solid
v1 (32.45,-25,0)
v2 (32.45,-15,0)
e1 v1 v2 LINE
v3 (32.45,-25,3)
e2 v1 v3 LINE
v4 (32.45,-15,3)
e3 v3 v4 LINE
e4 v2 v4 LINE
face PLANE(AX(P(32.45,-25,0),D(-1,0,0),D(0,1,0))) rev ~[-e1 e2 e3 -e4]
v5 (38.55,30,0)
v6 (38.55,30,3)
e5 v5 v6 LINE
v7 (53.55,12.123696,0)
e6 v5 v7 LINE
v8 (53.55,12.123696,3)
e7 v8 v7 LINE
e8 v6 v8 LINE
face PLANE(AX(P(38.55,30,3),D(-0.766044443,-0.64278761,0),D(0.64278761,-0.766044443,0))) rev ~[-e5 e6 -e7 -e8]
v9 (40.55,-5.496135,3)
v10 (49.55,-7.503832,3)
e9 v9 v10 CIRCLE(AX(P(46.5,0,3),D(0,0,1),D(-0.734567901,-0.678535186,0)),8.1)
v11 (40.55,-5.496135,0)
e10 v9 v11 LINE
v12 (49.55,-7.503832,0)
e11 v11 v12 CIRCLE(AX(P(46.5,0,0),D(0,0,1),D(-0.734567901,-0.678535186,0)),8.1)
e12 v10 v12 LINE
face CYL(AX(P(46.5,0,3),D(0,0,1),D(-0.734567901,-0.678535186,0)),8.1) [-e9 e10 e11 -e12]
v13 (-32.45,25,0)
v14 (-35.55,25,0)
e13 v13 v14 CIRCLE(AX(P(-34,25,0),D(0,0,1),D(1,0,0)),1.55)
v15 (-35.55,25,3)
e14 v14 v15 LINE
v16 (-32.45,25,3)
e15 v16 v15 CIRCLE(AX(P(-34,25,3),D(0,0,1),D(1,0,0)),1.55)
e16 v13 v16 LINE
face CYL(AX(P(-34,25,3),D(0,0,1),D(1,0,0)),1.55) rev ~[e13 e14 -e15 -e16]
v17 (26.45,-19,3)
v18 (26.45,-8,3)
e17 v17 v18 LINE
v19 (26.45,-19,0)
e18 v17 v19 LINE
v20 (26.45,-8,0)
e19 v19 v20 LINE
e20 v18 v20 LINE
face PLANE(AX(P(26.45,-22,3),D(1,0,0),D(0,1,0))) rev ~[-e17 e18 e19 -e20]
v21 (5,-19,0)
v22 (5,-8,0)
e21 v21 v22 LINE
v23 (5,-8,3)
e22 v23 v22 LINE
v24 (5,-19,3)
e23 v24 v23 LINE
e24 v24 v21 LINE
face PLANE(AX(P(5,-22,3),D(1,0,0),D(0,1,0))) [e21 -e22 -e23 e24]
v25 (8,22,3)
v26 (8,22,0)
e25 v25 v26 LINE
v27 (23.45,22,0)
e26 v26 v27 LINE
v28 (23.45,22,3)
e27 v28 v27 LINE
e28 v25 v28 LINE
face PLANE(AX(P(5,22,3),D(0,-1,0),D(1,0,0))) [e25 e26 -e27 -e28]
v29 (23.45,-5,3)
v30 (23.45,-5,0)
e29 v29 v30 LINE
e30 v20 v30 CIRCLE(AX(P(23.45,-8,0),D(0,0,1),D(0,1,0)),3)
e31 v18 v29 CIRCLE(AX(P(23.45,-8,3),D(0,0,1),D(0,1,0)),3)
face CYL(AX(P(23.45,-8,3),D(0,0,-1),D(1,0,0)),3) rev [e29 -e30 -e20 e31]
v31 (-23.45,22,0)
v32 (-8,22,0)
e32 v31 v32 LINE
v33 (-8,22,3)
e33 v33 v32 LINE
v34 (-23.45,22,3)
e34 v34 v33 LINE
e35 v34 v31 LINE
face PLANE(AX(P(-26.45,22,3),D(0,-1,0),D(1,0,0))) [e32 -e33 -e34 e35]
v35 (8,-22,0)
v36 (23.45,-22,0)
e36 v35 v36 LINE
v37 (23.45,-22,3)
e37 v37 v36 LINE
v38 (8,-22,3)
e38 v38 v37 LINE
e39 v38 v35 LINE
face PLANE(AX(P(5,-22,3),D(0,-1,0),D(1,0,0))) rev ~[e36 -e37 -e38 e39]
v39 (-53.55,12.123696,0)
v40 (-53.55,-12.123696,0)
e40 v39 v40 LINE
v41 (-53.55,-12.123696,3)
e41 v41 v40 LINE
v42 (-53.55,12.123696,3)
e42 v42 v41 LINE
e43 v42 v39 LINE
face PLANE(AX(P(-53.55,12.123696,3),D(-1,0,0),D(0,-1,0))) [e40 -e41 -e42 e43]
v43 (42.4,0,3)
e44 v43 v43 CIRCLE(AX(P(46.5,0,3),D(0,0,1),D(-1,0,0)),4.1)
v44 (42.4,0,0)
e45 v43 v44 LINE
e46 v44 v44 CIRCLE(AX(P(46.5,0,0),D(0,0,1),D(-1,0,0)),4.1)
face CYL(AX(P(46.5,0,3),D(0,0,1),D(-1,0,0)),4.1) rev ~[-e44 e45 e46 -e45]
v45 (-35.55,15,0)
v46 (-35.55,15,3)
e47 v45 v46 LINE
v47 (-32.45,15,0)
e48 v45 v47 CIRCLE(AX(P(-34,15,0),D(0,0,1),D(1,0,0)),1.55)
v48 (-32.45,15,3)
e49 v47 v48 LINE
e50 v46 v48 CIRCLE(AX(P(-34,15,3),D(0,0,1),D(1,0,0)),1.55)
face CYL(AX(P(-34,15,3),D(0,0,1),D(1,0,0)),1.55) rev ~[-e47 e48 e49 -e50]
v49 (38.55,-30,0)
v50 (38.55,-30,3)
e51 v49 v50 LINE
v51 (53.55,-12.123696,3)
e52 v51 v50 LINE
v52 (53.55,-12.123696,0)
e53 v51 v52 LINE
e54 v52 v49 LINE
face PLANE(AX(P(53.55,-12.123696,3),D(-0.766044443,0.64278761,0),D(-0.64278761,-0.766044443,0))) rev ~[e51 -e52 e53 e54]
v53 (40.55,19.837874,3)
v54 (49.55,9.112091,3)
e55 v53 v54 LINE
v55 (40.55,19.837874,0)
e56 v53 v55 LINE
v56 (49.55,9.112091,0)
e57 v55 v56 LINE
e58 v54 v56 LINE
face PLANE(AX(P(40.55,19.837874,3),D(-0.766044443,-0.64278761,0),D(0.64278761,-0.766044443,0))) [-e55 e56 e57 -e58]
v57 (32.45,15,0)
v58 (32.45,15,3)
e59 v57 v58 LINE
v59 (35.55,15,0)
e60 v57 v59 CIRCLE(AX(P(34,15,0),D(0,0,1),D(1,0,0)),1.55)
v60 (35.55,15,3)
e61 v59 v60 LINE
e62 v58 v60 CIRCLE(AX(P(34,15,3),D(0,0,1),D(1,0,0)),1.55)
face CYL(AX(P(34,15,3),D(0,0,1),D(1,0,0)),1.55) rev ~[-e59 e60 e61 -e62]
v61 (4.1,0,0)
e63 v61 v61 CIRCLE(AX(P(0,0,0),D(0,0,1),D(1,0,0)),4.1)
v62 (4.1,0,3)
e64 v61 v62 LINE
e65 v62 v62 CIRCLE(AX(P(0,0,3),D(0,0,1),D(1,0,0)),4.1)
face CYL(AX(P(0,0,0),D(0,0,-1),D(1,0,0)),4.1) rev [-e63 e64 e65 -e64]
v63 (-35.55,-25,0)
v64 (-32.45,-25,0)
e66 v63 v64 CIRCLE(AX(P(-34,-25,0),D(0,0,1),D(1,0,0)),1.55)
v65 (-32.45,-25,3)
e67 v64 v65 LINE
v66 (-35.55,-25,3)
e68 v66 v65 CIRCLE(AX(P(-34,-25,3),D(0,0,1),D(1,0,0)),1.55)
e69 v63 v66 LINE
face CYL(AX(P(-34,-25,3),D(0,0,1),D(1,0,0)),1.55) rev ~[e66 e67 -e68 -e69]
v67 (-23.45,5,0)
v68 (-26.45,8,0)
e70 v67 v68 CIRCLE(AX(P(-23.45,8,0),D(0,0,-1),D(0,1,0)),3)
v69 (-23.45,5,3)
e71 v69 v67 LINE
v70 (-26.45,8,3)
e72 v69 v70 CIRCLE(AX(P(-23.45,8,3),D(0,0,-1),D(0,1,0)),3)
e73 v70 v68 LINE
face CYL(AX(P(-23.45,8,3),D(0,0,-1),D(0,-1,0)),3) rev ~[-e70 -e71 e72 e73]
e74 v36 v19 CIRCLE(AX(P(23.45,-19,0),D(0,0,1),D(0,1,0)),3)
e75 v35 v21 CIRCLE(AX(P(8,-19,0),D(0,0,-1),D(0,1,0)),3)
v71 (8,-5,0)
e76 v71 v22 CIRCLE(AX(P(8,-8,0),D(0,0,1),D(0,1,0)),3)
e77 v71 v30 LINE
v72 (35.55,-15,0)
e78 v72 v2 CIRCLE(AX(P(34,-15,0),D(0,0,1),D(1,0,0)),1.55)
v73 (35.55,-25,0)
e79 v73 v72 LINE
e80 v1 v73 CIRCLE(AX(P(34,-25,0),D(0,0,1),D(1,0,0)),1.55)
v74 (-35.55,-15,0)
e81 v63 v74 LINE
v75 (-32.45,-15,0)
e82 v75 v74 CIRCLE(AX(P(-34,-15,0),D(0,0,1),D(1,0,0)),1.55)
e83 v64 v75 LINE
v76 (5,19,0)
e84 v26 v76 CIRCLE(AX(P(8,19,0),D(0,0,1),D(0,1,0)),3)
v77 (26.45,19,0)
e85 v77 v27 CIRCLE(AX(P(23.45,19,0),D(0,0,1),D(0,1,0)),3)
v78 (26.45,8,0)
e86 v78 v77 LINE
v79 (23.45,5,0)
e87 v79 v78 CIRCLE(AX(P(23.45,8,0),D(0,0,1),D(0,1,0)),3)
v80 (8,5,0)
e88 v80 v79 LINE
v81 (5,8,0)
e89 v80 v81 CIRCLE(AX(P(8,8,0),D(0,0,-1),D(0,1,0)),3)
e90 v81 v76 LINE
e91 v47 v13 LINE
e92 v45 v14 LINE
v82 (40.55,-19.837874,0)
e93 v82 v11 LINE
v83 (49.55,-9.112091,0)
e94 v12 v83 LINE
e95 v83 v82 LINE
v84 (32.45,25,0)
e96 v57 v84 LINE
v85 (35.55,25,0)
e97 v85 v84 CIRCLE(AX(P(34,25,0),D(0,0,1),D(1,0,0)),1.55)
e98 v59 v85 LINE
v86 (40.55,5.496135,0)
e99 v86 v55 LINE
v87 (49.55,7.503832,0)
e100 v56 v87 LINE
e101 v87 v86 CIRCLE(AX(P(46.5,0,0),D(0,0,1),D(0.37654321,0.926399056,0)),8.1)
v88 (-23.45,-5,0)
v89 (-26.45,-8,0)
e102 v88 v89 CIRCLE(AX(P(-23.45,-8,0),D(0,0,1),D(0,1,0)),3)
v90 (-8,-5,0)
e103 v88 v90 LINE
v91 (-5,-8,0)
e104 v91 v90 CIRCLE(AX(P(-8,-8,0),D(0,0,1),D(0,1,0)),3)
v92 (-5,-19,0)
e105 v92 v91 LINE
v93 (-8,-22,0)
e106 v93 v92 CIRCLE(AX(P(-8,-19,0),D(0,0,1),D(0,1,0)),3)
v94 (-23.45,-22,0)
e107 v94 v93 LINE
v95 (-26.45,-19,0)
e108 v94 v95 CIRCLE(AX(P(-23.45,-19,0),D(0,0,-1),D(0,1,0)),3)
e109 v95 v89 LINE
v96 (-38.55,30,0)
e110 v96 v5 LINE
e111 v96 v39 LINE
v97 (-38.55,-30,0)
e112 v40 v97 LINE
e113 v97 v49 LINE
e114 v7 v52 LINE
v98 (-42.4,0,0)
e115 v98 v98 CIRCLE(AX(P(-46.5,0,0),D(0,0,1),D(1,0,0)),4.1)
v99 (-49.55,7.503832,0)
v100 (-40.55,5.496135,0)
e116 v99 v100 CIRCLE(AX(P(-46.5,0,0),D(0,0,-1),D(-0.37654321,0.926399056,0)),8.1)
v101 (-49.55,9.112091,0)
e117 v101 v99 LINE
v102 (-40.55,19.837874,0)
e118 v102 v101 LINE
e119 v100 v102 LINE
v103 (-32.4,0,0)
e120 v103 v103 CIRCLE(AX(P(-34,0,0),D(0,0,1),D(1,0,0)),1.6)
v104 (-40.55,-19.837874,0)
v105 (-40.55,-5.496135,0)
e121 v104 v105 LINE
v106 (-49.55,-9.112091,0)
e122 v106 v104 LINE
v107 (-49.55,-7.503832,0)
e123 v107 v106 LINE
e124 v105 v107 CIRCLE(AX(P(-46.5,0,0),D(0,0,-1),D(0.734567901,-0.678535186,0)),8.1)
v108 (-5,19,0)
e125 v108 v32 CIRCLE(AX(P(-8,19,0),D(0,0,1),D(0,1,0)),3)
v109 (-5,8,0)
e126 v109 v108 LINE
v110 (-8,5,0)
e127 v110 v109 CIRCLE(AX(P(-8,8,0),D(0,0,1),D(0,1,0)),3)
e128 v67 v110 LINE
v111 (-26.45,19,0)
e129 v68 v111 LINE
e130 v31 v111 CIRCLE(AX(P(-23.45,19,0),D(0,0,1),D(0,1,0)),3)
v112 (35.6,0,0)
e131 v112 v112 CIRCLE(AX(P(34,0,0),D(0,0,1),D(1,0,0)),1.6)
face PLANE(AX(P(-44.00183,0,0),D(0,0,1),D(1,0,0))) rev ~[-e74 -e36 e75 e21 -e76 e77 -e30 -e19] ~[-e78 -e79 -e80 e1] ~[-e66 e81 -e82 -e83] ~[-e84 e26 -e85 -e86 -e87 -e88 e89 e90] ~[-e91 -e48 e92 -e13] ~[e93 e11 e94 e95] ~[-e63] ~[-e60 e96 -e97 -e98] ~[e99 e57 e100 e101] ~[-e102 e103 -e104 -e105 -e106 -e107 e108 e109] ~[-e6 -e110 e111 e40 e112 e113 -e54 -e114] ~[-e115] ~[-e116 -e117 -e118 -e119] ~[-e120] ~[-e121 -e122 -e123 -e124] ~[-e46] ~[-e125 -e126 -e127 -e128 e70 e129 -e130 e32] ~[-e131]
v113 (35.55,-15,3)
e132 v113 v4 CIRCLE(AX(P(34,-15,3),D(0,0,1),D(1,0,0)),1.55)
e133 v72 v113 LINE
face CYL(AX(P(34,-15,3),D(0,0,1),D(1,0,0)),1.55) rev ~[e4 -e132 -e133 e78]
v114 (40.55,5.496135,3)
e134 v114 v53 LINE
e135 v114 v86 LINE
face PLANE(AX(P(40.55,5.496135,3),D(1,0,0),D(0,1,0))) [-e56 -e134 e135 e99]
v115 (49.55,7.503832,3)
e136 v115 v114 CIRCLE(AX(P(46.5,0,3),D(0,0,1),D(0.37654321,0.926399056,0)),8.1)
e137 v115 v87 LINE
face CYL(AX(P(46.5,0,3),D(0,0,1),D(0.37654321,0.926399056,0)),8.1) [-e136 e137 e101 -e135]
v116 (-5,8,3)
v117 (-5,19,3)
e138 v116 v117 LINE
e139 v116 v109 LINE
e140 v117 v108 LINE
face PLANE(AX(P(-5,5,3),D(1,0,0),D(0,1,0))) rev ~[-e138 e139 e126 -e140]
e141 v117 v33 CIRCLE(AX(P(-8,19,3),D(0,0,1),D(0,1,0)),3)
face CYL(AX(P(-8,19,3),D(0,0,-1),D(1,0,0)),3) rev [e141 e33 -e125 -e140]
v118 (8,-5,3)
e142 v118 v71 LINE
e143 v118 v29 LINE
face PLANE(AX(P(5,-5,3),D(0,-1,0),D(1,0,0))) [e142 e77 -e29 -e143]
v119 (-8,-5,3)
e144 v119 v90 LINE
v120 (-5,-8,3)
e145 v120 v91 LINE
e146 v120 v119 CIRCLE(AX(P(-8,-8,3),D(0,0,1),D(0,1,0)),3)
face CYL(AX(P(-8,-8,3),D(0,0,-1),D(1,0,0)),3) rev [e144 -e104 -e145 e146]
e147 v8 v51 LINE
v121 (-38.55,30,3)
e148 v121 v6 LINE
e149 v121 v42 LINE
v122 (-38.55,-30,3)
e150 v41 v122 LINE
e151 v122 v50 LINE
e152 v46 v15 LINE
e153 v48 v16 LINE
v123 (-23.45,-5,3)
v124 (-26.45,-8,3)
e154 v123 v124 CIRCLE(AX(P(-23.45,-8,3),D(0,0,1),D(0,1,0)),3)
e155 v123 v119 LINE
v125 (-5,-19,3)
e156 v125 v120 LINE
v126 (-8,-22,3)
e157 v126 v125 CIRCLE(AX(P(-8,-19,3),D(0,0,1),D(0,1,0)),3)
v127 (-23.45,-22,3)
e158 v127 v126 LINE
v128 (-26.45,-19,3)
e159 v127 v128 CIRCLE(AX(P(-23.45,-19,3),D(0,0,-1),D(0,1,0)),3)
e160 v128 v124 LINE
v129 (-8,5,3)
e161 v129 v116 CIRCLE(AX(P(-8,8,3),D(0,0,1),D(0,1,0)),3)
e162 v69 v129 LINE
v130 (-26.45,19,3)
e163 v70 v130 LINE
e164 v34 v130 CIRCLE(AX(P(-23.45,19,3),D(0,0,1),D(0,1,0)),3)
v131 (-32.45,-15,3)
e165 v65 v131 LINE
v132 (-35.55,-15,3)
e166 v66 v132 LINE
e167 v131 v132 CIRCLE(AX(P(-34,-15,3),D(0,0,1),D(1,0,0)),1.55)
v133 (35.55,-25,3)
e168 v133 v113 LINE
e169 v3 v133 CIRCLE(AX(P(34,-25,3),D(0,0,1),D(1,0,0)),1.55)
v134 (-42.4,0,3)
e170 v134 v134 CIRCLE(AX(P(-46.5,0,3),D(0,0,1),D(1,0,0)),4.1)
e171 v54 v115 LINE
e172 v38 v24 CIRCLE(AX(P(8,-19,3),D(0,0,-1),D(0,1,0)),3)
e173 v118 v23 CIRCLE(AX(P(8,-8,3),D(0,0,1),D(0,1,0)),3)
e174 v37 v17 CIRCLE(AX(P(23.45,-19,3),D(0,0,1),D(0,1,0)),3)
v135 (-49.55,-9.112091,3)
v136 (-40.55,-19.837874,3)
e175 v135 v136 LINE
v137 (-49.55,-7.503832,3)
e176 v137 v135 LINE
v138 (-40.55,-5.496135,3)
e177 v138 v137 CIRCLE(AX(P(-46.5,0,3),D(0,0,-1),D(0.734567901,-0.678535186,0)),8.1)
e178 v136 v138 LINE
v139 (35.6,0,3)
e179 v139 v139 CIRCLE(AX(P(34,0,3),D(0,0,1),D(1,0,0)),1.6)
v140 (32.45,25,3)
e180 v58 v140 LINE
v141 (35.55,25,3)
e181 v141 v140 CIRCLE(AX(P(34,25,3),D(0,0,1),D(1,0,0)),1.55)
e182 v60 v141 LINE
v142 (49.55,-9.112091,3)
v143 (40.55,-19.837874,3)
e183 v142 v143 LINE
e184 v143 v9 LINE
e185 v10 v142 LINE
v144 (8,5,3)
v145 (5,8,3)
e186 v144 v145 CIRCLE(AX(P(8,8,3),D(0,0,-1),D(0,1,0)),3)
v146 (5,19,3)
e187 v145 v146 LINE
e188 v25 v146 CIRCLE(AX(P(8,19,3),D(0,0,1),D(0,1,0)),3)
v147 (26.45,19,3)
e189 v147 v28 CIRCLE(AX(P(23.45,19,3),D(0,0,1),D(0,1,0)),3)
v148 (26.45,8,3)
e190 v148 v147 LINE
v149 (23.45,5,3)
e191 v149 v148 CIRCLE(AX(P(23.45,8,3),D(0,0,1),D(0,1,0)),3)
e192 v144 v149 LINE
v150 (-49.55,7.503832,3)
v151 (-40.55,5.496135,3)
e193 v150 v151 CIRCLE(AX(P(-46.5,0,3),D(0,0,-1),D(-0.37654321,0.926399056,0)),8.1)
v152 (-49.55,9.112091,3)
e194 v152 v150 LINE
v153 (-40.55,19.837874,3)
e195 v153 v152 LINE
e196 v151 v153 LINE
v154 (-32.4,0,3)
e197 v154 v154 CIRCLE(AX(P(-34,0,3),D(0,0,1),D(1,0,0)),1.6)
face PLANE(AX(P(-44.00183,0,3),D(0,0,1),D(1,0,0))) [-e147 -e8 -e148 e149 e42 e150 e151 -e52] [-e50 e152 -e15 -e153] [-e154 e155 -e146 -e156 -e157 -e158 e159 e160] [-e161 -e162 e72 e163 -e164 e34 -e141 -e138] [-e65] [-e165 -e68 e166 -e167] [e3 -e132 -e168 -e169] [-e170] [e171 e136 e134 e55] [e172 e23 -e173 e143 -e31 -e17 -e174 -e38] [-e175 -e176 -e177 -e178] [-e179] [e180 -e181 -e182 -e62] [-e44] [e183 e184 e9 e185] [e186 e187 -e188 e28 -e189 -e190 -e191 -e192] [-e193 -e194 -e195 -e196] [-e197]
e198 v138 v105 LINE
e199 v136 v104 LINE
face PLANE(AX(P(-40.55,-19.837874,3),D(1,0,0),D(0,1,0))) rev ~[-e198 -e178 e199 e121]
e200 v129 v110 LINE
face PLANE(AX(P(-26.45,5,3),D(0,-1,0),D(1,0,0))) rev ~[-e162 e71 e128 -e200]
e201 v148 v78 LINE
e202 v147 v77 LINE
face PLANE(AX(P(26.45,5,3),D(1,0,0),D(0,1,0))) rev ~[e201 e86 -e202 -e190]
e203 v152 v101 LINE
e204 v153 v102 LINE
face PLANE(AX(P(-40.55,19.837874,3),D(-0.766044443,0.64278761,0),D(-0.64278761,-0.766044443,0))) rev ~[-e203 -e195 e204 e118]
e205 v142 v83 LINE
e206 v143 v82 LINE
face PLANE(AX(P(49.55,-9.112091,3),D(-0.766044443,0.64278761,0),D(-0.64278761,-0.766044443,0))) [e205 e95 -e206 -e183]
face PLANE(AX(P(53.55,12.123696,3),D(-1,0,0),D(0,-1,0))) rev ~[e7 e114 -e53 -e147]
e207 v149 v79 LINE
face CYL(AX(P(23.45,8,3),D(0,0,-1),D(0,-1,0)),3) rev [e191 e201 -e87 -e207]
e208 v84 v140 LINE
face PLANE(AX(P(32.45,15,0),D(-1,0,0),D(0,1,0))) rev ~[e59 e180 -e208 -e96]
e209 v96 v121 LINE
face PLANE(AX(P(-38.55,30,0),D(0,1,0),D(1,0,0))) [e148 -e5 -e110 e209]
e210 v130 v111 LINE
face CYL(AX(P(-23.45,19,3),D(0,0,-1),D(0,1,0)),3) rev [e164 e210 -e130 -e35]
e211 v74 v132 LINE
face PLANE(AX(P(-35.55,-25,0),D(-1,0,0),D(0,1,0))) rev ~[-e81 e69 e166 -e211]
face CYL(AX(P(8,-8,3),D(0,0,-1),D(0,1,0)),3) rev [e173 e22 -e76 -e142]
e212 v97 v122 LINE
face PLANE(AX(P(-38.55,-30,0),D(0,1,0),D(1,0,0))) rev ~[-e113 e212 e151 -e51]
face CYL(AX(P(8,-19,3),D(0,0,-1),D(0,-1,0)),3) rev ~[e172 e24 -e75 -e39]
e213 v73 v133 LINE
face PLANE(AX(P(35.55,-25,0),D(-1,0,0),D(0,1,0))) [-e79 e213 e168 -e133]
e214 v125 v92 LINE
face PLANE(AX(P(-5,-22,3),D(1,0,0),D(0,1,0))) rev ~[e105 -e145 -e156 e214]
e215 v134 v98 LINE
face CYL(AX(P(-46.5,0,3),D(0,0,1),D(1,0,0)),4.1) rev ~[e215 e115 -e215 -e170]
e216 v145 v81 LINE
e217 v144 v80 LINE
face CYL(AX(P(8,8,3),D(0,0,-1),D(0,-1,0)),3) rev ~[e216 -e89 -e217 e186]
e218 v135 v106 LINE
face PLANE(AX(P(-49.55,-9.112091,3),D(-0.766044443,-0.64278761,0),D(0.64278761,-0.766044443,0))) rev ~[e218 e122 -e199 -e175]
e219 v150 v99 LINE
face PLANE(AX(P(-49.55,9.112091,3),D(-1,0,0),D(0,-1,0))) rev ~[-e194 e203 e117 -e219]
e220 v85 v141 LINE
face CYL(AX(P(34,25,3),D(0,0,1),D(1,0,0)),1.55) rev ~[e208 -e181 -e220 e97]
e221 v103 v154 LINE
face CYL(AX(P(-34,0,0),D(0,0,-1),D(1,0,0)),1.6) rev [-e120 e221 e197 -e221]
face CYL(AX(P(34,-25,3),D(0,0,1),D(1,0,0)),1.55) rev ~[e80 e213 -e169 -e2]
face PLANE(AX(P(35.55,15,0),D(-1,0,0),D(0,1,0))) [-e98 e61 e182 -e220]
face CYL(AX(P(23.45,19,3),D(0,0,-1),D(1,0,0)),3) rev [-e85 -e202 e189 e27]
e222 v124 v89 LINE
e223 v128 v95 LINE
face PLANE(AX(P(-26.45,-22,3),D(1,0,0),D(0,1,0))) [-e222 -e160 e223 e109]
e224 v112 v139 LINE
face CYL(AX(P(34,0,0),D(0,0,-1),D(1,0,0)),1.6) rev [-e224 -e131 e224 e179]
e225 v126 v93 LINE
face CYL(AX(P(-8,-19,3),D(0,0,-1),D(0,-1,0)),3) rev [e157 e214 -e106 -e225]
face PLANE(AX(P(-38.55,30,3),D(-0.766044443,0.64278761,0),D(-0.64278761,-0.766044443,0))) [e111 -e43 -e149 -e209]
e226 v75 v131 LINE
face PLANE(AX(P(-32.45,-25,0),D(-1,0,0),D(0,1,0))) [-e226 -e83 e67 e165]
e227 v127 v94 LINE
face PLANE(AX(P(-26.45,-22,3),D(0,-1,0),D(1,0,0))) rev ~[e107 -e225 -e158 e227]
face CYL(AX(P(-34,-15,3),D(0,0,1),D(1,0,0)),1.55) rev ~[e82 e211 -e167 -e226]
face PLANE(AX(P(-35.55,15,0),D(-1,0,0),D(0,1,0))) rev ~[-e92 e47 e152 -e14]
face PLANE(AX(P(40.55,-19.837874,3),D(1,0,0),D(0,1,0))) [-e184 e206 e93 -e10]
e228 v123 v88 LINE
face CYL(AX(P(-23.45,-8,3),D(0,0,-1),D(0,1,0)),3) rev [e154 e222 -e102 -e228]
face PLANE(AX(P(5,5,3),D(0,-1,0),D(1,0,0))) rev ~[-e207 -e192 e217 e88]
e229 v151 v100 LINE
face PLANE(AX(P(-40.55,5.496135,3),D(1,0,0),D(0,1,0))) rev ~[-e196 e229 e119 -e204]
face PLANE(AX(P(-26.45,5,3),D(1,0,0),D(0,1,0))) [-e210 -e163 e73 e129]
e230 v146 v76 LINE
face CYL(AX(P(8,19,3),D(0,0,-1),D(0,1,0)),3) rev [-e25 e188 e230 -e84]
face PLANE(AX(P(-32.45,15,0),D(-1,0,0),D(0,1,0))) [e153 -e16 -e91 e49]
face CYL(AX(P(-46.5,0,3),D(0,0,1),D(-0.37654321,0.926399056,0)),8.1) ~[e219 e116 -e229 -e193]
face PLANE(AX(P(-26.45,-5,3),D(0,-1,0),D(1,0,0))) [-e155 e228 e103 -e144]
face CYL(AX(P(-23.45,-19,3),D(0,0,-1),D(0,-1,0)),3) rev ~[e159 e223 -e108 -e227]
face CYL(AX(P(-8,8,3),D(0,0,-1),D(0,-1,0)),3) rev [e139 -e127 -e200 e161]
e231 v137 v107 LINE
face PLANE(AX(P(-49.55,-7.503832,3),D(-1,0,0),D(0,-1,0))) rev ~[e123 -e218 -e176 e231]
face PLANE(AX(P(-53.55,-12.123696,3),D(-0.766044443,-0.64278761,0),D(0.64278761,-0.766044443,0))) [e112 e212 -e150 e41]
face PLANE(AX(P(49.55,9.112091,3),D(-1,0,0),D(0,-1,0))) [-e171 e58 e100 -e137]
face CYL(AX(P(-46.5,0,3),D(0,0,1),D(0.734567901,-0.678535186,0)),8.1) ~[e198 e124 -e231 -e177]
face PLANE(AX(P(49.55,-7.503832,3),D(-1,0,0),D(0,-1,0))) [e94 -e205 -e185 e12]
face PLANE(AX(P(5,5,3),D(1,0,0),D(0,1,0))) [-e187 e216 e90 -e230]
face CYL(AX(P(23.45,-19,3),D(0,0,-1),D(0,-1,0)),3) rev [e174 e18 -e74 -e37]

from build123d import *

# Parameters (mm, degrees)
SKETCH_1_W          = 77.1
SKETCH_1_H          = 60
SKETCH_1_R          = 4.1
SKETCH_1_R_2        = 1.6
SKETCH_1_W_2        = 3.1
SKETCH_1_H_2        = 10
EXTRUDE_1_DEPTH     = 3
SKETCH_2_R          = 1.55
SKETCH_2_W          = 21.45
SKETCH_2_H          = 17
CUT_EXTRUDE_1_DEPTH = 49.939784429
SKETCH_3_R          = 4.1
EXTRUDE_2_DEPTH     = 3
FILLET_1_R          = 3


with BuildPart() as part:
    # 草图1 → 凸台-拉伸1 (new body)
    with BuildSketch(Plane.XY):
        Rectangle(SKETCH_1_W, SKETCH_1_H)
        Circle(SKETCH_1_R, mode=Mode.SUBTRACT)
        with Locations((34, 0)):
            Circle(SKETCH_1_R_2, mode=Mode.SUBTRACT)
        with Locations((-34, 0)):
            Circle(SKETCH_1_R_2, mode=Mode.SUBTRACT)
        with Locations((34, -20)):
            Rectangle(SKETCH_1_W_2, SKETCH_1_H_2, mode=Mode.SUBTRACT)
        with Locations((-34, 20)):
            Rectangle(SKETCH_1_W_2, SKETCH_1_H_2, mode=Mode.SUBTRACT)
        with Locations((-34, -20)):
            Rectangle(SKETCH_1_W_2, SKETCH_1_H_2, mode=Mode.SUBTRACT)
        with Locations((34, 20)):
            Rectangle(SKETCH_1_W_2, SKETCH_1_H_2, mode=Mode.SUBTRACT)
    extrude(amount=EXTRUDE_1_DEPTH)

    # 草图2 → 切除-拉伸1 (cut, through all)
    with BuildSketch(Plane.XY.offset(3)):
        with Locations((-34, 25)):
            Circle(SKETCH_2_R)
        with Locations((-34, 15)):
            Circle(SKETCH_2_R)
        with Locations((34, 25)):
            Circle(SKETCH_2_R)
        with Locations((34, 15)):
            Circle(SKETCH_2_R)
        with Locations((34, -15)):
            Circle(SKETCH_2_R)
        with Locations((34, -25)):
            Circle(SKETCH_2_R)
        with Locations((-34, -15)):
            Circle(SKETCH_2_R)
        with Locations((-34, -25)):
            Circle(SKETCH_2_R)
        with Locations((-15.725, 13.5)):
            Rectangle(SKETCH_2_W, SKETCH_2_H)
        with Locations((15.725, 13.5)):
            Rectangle(SKETCH_2_W, SKETCH_2_H)
        with Locations((-15.725, -13.5)):
            Rectangle(SKETCH_2_W, SKETCH_2_H)
        with Locations((15.725, -13.5)):
            Rectangle(SKETCH_2_W, SKETCH_2_H)
    extrude(amount=-CUT_EXTRUDE_1_DEPTH, mode=Mode.SUBTRACT)

    # 草图3 → 凸台-拉伸2 (add)
    # profile 1 of 2: a face of its own
    with BuildSketch(Plane.XY.offset(3)):
        Polygon((-38.55, 30), (-53.55, 12.123696111), (-53.55, -12.123696111), (-38.55, -30), align=None)
        with Locations((-46.5, 0)):
            Circle(SKETCH_3_R, mode=Mode.SUBTRACT)
        with BuildLine():
            Line((-40.55, 19.837873681), (-49.55, 9.112091347))
            Line((-49.55, 9.112091347), (-49.55, 7.503832354))
            ThreePointArc((-49.55, 7.503832354), (-44.736420639, 7.905680732), (-40.55, 5.496135006))
            Line((-40.55, 5.496135006), (-40.55, 19.837873681))
        make_face(mode=Mode.SUBTRACT)
        with BuildLine():
            Line((-49.55, -7.503832354), (-49.55, -9.112091347))
            Line((-49.55, -9.112091347), (-40.55, -19.837873681))
            Line((-40.55, -19.837873681), (-40.55, -5.496135006))
            ThreePointArc((-40.55, -5.496135006), (-44.736420639, -7.905680732), (-49.55, -7.503832354))
        make_face(mode=Mode.SUBTRACT)
    # profile 2 of 2: a face of its own
    with BuildSketch(Plane.XY.offset(3)):
        Polygon((53.55, -12.123696111), (38.55, -30), (38.55, 30), (53.55, 12.123696111), align=None)
        with Locations(Location((46.5, 0, 0), (0, 0, 180))):
            Circle(SKETCH_3_R, mode=Mode.SUBTRACT)
        with BuildLine():
            Line((40.55, -19.837873681), (40.55, -5.496135006))
            ThreePointArc((40.55, -5.496135006), (44.736420639, -7.905680732), (49.55, -7.503832354))
            Line((49.55, -7.503832354), (49.55, -9.112091347))
            Line((49.55, -9.112091347), (40.55, -19.837873681))
        make_face(mode=Mode.SUBTRACT)
        with BuildLine():
            Line((40.55, 19.837873681), (49.55, 9.112091347))
            Line((49.55, 9.112091347), (49.55, 7.503832354))
            ThreePointArc((49.55, 7.503832354), (44.736420639, 7.905680732), (40.55, 5.496135006))
            Line((40.55, 5.496135006), (40.55, 19.837873681))
        make_face(mode=Mode.SUBTRACT)
    extrude(amount=-EXTRUDE_2_DEPTH)

    # 圆角1
    fillet_1_edges = [part.edges().sort_by_distance(p)[0] for p in [
        (26.45, 5, 1.5),
        (5, 5, 1.5),
        (5, 22, 1.5),
        (26.45, 22, 1.5),
        (-26.45, -22, 1.5),
        (-26.45, -5, 1.5),
        (-5, -5, 1.5),
        (-5, -22, 1.5),
        (26.45, -22, 1.5),
        (5, -22, 1.5),
        (5, -5, 1.5),
        (26.45, -5, 1.5),
        (-26.45, 5, 1.5),
        (-26.45, 22, 1.5),
        (-5, 22, 1.5),
        (-5, 5, 1.5),
    ]]
    fillet(fillet_1_edges, radius=FILLET_1_R)


solid = part.part
